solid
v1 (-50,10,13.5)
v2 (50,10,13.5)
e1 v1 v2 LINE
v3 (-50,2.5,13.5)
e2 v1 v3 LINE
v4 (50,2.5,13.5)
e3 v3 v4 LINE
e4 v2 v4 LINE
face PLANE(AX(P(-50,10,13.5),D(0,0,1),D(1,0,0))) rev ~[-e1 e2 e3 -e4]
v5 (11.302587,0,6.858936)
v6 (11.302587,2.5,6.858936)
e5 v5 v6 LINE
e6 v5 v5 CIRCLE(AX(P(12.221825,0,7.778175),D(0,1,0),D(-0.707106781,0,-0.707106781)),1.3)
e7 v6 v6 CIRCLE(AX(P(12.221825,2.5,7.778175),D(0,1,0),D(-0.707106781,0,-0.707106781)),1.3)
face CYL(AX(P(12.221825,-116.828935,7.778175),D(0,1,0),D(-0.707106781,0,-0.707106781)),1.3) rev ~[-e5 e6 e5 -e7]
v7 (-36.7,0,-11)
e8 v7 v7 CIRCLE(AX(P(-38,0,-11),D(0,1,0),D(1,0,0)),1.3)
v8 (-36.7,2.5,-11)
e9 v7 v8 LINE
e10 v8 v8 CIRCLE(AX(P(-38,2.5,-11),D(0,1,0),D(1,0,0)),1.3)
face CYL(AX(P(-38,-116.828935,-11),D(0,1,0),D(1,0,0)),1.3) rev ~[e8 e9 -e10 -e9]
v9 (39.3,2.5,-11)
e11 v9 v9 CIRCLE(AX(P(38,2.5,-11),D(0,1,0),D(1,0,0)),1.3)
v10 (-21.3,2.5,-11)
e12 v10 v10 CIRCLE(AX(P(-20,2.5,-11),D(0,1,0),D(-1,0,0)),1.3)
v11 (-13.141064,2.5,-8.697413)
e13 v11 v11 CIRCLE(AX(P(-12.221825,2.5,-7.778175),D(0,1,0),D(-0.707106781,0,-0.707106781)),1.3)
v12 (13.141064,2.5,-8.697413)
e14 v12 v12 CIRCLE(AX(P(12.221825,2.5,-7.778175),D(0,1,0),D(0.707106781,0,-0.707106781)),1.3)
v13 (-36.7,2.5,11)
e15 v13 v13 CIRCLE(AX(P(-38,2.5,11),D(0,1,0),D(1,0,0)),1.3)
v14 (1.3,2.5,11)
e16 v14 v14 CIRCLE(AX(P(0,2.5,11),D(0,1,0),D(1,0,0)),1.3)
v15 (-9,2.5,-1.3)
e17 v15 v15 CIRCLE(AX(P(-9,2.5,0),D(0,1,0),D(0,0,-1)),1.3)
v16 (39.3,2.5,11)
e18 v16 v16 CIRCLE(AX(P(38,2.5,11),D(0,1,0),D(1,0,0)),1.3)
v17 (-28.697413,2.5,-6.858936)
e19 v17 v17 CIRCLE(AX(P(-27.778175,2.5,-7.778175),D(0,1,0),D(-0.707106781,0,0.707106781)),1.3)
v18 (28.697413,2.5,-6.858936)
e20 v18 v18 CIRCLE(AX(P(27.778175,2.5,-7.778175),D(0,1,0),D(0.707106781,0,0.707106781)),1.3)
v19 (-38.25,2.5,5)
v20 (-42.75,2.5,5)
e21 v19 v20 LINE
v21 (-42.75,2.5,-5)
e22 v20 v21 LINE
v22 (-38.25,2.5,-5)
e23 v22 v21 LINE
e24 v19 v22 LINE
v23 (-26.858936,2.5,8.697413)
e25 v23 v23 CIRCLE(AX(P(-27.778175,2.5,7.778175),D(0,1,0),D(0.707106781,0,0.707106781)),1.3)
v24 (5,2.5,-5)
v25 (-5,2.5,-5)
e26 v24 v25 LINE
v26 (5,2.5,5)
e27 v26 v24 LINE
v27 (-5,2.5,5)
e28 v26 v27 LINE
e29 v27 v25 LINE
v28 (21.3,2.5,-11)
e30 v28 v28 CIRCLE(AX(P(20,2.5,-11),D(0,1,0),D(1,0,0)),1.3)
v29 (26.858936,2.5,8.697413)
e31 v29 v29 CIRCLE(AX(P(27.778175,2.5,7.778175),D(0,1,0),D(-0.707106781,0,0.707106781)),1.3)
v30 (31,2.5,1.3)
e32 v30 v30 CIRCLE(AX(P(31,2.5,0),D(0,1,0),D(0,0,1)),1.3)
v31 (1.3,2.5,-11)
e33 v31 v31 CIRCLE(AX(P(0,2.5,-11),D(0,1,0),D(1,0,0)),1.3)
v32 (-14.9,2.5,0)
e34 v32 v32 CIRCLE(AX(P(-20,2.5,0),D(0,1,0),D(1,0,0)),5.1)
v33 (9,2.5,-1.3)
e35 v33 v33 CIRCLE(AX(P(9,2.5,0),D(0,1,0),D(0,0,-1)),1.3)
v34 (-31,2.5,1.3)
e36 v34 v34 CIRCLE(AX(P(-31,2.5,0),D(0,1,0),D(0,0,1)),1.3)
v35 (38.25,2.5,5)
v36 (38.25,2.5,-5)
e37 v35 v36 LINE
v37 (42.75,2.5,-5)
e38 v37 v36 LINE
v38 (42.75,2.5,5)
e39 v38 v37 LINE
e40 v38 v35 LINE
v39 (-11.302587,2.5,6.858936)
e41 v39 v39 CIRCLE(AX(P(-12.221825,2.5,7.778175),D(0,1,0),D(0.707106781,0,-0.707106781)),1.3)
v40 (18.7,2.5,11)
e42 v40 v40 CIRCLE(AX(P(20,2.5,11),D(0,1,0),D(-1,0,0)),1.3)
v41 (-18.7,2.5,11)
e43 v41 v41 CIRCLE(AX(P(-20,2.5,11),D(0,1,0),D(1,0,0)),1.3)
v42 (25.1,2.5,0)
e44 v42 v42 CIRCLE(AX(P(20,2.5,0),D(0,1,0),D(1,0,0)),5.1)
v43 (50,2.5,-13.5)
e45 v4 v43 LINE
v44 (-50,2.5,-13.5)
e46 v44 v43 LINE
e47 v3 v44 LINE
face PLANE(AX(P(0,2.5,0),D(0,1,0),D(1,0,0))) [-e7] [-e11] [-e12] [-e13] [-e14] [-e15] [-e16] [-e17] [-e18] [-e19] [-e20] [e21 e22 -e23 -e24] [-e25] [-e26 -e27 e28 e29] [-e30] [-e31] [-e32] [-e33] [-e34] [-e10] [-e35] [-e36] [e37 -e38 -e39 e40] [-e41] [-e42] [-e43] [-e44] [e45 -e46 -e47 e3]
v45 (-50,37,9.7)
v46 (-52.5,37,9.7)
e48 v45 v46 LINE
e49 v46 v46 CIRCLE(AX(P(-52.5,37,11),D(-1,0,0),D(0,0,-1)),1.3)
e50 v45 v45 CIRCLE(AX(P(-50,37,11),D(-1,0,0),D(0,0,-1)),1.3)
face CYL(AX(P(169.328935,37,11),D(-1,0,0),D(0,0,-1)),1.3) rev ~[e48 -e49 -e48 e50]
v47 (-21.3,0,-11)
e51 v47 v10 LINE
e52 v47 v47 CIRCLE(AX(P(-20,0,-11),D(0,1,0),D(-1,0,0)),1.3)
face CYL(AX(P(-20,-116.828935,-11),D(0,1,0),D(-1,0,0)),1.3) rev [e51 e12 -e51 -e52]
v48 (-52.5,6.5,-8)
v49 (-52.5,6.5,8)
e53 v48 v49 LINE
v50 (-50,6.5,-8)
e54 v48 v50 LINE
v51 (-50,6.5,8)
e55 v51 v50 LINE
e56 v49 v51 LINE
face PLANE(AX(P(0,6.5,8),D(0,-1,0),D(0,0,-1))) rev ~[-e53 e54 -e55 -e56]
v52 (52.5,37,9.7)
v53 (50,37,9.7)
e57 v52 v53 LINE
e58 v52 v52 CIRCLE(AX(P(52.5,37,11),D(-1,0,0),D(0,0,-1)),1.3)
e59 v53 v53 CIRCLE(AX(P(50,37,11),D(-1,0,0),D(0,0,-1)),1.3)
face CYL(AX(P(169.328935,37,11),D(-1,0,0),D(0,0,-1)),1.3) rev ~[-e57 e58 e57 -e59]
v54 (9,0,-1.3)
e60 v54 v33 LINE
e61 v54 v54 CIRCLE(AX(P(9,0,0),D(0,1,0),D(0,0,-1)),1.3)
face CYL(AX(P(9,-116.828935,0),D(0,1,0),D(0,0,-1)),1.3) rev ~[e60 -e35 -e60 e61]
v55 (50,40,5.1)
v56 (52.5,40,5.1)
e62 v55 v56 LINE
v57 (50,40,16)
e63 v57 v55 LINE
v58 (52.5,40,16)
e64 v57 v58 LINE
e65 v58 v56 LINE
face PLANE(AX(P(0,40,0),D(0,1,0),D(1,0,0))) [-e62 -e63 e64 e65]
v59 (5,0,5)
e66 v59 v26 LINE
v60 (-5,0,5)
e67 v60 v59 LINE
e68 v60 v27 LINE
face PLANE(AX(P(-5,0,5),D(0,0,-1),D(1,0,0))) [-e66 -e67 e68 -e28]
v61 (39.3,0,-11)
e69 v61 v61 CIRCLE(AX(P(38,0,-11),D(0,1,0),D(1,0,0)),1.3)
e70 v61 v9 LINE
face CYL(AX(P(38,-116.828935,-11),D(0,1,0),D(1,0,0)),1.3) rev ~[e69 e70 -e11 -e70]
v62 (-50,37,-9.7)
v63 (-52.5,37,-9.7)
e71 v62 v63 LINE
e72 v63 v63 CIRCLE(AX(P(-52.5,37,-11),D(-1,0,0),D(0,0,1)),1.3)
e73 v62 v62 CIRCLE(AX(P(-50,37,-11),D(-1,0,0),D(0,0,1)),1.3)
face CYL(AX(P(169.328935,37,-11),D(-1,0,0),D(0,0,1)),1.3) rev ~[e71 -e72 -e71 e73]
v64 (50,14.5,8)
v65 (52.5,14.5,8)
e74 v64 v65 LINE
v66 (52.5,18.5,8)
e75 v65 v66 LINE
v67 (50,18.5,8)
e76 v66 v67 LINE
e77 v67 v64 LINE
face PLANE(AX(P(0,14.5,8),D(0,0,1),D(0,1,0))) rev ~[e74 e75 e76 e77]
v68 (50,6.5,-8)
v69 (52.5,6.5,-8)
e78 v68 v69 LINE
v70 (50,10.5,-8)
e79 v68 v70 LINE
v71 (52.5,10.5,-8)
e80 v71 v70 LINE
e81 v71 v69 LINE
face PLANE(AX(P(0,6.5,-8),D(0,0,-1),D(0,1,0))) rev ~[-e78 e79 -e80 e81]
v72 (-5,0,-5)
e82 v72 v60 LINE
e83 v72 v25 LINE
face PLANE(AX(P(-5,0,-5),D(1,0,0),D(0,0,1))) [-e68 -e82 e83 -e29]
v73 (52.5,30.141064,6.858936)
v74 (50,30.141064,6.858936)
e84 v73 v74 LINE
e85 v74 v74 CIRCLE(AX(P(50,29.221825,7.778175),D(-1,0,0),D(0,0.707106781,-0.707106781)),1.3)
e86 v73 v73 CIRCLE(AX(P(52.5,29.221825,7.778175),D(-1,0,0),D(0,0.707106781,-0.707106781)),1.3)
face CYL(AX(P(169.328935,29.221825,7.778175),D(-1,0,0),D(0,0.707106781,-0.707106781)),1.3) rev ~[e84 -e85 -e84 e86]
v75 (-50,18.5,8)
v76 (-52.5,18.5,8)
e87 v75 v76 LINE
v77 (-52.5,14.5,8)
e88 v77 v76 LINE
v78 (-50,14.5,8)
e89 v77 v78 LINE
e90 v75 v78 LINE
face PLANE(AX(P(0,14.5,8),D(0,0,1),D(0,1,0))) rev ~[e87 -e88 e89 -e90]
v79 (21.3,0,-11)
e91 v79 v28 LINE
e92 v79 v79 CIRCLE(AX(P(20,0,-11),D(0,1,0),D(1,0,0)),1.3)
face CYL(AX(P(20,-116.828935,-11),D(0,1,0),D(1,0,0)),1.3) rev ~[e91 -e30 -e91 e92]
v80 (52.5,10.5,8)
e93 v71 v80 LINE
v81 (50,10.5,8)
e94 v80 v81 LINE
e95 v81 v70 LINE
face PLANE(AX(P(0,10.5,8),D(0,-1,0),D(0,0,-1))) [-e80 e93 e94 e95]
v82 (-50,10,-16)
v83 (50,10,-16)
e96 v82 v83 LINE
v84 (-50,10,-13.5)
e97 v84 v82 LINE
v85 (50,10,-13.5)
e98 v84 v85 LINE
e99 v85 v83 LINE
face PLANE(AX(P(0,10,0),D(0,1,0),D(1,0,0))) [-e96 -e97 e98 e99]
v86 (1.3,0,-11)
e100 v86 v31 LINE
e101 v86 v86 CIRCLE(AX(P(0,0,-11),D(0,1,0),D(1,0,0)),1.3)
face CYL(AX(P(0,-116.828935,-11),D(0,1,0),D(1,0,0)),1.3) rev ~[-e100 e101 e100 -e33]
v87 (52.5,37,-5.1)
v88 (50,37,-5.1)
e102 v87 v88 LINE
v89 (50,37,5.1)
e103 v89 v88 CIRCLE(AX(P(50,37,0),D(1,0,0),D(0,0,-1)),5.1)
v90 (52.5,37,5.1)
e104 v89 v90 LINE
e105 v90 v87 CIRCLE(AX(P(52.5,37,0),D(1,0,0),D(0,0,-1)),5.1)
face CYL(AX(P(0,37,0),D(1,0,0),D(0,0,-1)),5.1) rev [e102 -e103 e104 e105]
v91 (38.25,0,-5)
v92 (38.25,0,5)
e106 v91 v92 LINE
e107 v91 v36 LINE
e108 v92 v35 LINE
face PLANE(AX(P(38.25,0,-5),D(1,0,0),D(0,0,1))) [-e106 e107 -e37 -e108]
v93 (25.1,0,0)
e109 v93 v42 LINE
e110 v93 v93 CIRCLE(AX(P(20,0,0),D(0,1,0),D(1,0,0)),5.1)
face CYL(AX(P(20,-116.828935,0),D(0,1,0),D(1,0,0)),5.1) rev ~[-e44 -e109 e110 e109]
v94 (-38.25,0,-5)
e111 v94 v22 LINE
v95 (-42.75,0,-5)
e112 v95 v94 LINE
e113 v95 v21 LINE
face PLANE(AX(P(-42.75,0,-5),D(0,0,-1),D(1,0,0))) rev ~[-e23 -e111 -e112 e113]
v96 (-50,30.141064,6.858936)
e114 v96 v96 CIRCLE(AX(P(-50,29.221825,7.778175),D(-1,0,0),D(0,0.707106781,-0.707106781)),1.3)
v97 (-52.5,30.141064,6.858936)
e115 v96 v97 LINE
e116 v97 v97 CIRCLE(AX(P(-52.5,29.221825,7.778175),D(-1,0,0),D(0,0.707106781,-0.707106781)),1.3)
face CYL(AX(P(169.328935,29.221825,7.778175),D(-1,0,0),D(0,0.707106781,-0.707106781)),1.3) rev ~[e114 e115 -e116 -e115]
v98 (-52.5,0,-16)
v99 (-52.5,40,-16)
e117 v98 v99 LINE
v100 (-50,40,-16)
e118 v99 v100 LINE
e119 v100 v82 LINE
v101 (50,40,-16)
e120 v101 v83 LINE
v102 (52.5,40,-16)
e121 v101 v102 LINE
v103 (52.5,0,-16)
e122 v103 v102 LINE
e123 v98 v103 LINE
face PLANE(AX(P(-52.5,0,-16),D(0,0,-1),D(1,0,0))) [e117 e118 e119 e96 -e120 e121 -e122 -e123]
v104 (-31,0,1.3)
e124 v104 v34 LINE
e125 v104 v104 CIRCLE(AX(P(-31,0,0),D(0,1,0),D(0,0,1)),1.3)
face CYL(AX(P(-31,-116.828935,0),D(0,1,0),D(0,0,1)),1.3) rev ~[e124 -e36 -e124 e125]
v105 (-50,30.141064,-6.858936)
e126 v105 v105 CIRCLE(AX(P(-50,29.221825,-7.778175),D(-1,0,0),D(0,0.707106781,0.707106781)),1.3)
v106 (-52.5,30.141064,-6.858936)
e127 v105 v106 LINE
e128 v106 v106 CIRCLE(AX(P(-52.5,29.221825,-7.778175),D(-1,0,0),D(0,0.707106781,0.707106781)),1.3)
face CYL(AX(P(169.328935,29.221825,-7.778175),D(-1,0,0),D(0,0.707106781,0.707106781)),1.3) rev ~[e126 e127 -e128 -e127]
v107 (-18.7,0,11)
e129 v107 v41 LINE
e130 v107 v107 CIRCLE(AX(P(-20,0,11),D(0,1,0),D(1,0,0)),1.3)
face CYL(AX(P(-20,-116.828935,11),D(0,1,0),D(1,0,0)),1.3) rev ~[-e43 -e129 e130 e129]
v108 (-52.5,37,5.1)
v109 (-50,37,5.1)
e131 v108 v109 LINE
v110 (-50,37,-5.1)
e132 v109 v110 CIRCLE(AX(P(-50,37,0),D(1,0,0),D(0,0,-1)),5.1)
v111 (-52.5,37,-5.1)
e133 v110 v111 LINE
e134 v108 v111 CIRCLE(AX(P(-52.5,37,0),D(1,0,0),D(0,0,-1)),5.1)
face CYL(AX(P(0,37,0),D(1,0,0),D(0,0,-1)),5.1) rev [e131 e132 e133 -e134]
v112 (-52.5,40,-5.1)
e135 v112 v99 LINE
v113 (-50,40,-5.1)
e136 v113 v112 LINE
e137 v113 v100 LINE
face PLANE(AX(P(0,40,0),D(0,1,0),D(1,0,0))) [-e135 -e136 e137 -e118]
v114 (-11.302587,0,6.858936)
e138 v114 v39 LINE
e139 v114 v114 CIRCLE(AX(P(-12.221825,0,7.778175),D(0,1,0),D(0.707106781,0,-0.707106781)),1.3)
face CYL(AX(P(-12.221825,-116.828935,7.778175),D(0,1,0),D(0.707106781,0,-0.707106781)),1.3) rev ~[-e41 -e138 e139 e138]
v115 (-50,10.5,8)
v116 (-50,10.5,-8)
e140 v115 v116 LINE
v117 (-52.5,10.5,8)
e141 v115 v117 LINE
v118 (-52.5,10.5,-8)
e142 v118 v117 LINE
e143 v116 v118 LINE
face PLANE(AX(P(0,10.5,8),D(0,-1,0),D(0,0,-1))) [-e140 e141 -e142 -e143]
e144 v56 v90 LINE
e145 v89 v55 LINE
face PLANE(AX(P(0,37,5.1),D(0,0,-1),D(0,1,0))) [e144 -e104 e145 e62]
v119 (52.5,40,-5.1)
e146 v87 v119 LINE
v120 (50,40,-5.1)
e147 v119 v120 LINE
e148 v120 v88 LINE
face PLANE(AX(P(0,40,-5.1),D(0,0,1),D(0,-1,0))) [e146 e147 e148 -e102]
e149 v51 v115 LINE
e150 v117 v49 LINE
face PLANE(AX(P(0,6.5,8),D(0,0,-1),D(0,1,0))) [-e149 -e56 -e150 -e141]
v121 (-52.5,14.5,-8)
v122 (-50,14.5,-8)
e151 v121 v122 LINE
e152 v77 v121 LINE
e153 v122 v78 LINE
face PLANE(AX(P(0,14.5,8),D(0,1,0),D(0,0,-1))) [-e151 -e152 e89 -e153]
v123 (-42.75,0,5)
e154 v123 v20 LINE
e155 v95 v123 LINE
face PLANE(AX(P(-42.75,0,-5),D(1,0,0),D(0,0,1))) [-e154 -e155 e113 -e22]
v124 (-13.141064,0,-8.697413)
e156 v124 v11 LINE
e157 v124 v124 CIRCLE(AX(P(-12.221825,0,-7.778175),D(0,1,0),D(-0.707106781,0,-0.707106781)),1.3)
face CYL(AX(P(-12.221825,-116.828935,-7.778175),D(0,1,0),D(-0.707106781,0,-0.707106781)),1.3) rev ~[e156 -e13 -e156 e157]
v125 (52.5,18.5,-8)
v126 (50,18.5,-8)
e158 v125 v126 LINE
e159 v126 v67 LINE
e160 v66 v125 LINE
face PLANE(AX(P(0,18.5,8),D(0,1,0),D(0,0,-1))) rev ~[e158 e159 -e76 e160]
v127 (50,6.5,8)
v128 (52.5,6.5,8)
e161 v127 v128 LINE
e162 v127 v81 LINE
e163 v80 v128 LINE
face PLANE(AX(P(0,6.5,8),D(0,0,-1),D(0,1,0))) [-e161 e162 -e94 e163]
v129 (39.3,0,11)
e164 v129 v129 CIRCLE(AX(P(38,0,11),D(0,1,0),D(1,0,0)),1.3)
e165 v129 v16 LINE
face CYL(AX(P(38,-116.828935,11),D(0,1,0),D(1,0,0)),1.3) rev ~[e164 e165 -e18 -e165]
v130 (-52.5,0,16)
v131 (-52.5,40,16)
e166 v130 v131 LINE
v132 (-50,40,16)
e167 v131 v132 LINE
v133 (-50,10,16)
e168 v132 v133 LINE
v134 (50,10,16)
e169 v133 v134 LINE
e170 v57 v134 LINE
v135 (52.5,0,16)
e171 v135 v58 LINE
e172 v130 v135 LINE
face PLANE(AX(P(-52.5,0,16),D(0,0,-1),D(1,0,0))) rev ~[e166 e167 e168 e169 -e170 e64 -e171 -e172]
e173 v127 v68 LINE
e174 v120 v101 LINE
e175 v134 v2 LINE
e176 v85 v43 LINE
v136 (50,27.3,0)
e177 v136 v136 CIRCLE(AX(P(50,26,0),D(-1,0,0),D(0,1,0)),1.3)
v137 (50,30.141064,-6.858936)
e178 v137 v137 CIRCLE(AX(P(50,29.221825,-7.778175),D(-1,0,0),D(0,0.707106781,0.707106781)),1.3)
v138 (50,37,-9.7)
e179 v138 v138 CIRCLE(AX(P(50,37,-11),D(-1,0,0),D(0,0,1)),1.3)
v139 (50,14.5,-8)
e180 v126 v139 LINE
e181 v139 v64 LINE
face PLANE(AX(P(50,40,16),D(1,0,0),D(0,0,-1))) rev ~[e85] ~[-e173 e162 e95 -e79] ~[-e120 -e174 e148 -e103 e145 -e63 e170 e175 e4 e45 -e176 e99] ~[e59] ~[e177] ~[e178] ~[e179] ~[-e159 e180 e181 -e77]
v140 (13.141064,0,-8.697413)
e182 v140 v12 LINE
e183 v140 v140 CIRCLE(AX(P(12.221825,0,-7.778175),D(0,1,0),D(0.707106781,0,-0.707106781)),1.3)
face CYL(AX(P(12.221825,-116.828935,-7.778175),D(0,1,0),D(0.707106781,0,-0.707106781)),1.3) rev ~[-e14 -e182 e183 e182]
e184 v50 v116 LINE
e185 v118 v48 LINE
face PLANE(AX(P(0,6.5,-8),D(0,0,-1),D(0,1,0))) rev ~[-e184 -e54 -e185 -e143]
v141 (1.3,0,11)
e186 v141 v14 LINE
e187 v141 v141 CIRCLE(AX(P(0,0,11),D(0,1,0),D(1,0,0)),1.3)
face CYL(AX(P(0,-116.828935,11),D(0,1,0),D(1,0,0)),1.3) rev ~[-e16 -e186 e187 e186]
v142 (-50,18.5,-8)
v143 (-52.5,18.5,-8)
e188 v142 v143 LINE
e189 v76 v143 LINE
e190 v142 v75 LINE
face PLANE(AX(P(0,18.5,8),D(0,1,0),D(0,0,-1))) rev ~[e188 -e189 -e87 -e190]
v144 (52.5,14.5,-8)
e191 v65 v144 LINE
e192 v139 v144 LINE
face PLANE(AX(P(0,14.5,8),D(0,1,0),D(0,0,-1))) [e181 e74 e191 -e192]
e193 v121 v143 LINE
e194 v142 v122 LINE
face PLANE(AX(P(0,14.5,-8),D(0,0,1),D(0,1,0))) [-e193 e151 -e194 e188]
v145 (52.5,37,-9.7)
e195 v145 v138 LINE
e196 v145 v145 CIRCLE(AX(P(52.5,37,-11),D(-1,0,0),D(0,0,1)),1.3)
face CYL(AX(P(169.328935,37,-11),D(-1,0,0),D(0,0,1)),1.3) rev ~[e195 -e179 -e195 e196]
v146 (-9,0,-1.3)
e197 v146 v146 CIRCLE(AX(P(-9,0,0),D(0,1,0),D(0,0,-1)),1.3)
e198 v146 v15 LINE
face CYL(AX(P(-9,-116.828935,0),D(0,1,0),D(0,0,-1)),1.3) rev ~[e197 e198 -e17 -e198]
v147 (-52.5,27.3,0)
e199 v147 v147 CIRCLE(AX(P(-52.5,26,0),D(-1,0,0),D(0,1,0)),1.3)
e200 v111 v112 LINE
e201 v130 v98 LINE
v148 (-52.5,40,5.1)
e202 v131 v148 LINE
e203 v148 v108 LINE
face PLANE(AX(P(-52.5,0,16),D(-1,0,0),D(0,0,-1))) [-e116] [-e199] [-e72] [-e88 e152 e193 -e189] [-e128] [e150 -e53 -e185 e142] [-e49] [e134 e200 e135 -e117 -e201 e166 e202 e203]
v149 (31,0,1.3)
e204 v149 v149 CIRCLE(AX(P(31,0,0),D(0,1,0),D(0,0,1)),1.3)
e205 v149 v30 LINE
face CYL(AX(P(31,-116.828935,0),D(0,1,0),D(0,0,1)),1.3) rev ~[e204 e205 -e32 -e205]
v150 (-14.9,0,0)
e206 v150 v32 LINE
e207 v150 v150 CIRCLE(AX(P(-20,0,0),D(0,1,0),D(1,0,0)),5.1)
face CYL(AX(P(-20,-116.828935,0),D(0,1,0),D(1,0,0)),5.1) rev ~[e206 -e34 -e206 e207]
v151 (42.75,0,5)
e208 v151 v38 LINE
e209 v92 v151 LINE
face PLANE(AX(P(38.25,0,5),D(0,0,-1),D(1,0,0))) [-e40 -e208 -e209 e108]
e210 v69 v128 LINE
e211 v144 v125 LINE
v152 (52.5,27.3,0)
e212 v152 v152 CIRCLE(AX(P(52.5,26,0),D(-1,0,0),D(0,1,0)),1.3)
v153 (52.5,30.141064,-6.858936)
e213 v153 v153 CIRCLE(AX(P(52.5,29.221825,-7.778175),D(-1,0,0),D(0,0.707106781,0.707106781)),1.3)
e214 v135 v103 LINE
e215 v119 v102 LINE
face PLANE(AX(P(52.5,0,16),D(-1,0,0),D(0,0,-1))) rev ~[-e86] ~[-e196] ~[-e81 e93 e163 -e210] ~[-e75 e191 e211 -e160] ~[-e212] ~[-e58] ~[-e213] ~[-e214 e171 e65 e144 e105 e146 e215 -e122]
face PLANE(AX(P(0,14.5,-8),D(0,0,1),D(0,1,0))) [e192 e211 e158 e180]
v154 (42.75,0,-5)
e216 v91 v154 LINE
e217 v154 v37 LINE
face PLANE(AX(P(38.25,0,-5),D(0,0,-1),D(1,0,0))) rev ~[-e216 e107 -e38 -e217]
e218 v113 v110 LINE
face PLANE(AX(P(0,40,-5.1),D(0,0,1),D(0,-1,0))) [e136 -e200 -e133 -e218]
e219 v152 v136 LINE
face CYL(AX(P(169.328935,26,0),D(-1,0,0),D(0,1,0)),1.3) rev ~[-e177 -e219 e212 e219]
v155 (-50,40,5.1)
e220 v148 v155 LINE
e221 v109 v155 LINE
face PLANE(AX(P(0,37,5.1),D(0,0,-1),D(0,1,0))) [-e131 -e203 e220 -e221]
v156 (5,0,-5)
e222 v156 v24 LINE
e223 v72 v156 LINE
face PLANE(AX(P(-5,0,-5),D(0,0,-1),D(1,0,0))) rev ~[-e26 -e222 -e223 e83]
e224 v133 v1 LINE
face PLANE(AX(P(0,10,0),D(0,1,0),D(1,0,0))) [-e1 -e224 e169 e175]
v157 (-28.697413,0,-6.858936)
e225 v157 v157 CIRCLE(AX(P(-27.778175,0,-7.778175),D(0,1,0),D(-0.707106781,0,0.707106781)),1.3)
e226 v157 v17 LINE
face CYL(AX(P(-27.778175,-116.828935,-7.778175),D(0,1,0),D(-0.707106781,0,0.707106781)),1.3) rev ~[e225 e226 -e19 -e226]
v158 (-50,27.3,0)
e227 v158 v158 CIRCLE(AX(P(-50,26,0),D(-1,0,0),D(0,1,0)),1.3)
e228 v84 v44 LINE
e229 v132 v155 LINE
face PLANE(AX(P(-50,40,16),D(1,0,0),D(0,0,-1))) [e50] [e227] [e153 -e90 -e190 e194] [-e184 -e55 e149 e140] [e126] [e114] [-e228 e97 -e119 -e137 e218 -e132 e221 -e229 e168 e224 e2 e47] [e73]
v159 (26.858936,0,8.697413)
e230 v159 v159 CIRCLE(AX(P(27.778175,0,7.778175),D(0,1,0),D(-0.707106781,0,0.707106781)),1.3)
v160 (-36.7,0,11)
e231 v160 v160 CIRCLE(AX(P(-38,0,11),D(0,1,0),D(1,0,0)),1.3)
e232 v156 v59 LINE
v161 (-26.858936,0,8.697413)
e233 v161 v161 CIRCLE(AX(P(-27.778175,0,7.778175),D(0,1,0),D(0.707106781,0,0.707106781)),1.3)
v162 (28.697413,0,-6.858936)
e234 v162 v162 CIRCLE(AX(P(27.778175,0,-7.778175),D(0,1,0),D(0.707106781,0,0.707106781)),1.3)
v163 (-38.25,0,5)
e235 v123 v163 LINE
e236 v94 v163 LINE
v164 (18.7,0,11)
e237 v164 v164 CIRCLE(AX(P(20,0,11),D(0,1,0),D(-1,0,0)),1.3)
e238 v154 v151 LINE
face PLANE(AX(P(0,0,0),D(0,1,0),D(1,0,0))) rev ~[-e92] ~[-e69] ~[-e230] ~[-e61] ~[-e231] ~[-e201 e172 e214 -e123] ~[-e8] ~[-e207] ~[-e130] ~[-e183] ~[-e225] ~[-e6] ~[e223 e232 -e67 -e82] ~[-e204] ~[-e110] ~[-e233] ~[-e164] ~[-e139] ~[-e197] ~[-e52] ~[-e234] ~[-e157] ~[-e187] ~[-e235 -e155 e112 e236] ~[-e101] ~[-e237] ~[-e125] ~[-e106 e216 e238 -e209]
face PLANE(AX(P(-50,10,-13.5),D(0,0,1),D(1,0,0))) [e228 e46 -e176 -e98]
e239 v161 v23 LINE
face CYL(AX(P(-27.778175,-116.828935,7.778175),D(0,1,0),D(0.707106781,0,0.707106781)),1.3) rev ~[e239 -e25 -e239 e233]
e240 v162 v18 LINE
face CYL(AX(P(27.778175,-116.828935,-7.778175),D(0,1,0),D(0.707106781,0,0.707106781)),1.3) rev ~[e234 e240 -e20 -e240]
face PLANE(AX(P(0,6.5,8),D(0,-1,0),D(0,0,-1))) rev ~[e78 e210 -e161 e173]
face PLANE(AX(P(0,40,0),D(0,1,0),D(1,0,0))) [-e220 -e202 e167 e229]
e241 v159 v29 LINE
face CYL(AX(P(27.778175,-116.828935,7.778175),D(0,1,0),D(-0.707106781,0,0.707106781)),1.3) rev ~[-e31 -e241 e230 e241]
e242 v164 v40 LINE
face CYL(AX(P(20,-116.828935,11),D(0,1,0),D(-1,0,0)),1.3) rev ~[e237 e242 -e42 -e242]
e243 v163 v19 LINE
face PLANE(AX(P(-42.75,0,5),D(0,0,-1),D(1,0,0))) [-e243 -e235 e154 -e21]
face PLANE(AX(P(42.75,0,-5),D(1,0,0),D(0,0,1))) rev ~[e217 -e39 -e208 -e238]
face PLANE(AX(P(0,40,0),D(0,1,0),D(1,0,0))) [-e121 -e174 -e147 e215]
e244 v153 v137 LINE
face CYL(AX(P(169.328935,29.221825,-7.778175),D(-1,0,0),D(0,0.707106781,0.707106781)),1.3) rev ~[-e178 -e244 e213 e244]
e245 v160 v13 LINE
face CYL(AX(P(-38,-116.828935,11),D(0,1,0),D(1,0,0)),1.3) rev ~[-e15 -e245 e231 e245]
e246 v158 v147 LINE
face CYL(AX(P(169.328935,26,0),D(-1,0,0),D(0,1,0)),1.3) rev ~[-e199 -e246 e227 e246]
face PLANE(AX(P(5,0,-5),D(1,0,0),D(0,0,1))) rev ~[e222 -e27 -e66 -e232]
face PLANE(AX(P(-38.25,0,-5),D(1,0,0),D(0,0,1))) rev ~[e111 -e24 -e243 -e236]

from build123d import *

# Parameters (mm, degrees)
SKETCH2_W              = 105
SKETCH2_H              = 32
BOSS_EXTRUDE1_DEPTH    = 40
SKETCH3_W              = 100
SKETCH3_H              = 32
CUT_EXTRUDE1_DEPTH     = 30
SKETCH4_W              = 100
SKETCH4_H              = 27
CUT_EXTRUDE2_DEPTH     = 7.5
F_10_0MM_DOWEL_HOLE1_D = 10.2
F_2_5MM_DOWEL_HOLE1_D  = 2.6
CIRPATTERN1_COUNT      = 8
F_2_5MM_DOWEL_HOLE2_D  = 2.6
LPATTERN1_COUNT        = 3
LPATTERN1_PITCH        = 38
MIRROR1_COPY_1_D       = 2.6
MIRROR1_COPY_2_D       = 2.6
MIRROR1_COPY_3_D       = 2.6
MIRROR1_COPY_4_D       = 2.6
MIRROR1_COPY_5_D       = 2.6
MIRROR1_COPY_6_D       = 2.6
MIRROR1_COPY_7_D       = 2.6
MIRROR1_COPY_8_D       = 2.6
CUT_EXTRUDE3_DEPTH     = 72.75
F_2_5MM_DOWEL_HOLE3_D  = 2.6
CIRPATTERN3_COUNT      = 5
CIRPATTERN3_ANGLE      = 180
SKETCH18_W             = 16
SKETCH18_H             = 4
CUT_EXTRUDE4_DEPTH     = 72.75
SKETCH19_W             = 10
SKETCH19_H             = 10
SKETCH19_W_2           = 4.5
CUT_EXTRUDE5_DEPTH     = 145.5


with BuildPart() as part:
    # Sketch2 → Boss-Extrude1 (new body)
    with BuildSketch(Plane(origin=(0, 0, 0), x_dir=(1, 0, 0), z_dir=(0, 1, 0))):
        Rectangle(SKETCH2_W, SKETCH2_H)
    extrude(amount=BOSS_EXTRUDE1_DEPTH)

    # Sketch3 → Cut-Extrude1 (cut)
    with BuildSketch(Plane(origin=(0, 40, 0), x_dir=(1, 0, 0), z_dir=(0, 1, 0))):
        Rectangle(SKETCH3_W, SKETCH3_H)
    extrude(amount=-CUT_EXTRUDE1_DEPTH, mode=Mode.SUBTRACT)

    # Sketch4 → Cut-Extrude2 (cut)
    with BuildSketch(Plane(origin=(0, 10, 0), x_dir=(1, 0, 0), z_dir=(0, 1, 0))):
        Rectangle(SKETCH4_W, SKETCH4_H)
    extrude(amount=-CUT_EXTRUDE2_DEPTH, mode=Mode.SUBTRACT)

    # Ø10.0mm Dowel Hole1 (through all)
    with Locations(Plane(origin=(0, 0, 0), x_dir=(-1, 0, 0), z_dir=(0, -1, 0))):
        with Locations((-20, 0), (20, 0)):
            Hole(F_10_0MM_DOWEL_HOLE1_D / 2)

    # Ø2.5mm Dowel Hole1 (through all)
    with Locations(Plane(origin=(0, 0, 0), x_dir=(-1, 0, 0), z_dir=(0, -1, 0))):
        with Locations((-20, 11)):
            f_2_5mm_dowel_hole1 = Hole(F_2_5MM_DOWEL_HOLE1_D / 2)

    # CirPattern1: Ø2.5mm Dowel Hole1 ×8 about axis
    cirpattern1_axis = Axis((20, 0, 0), (0, -1, 0))
    for i in range(1, CIRPATTERN1_COUNT):
        add(f_2_5mm_dowel_hole1.rotate(cirpattern1_axis, i * 360 / CIRPATTERN1_COUNT), mode=Mode.SUBTRACT)

    # Ø2.5mm Dowel Hole2 (through all)
    with Locations(Plane(origin=(0, 0, 0), x_dir=(-1, 0, 0), z_dir=(0, -1, 0))):
        with Locations((-38, 11), (-38, -11)):
            f_2_5mm_dowel_hole2 = Hole(F_2_5MM_DOWEL_HOLE2_D / 2)

    # LPattern1: Ø2.5mm Dowel Hole2 ×3
    with Locations(*[(-i * LPATTERN1_PITCH, 0, 0) for i in range(1, LPATTERN1_COUNT)]):
        add(f_2_5mm_dowel_hole2, mode=Mode.SUBTRACT)

    # Mirror1 copy 1 (through all)
    with Locations(Plane(origin=(-5.857864376, 0, -14.142135624), x_dir=(0.7071067811865476, 0, -0.7071067811865475), z_dir=(0, -1, 0))):
        with Locations((-20, -11)):
            Hole(MIRROR1_COPY_1_D / 2)

    # Mirror1 copy 2 (through all)
    with Locations(Plane(origin=(-20, 0, -20), x_dir=(0, 0, -1), z_dir=(0, -1, 0))):
        with Locations((-20, -11)):
            Hole(MIRROR1_COPY_2_D / 2)

    # Mirror1 copy 3 (through all)
    with Locations(Plane(origin=(-34.142135624, 0, -14.142135624), x_dir=(-0.7071067811865475, 0, -0.7071067811865476), z_dir=(0, -1, 0))):
        with Locations((-20, -11)):
            Hole(MIRROR1_COPY_3_D / 2)

    # Mirror1 copy 4 (through all)
    with Locations(Plane(origin=(-40, 0, 0), x_dir=(-1, 0, 0), z_dir=(0, -1, 0))):
        with Locations((-20, -11)):
            Hole(MIRROR1_COPY_4_D / 2)

    # Mirror1 copy 5 (through all)
    with Locations(Plane(origin=(-34.142135624, 0, 14.142135624), x_dir=(-0.7071067811865477, 0, 0.7071067811865475), z_dir=(0, -1, 0))):
        with Locations((-20, -11)):
            Hole(MIRROR1_COPY_5_D / 2)

    # Mirror1 copy 6 (through all)
    with Locations(Plane(origin=(-20, 0, 20), x_dir=(0, 0, 1), z_dir=(0, -1, 0))):
        with Locations((-20, -11)):
            Hole(MIRROR1_COPY_6_D / 2)

    # Mirror1 copy 7 (through all)
    with Locations(Plane(origin=(-5.857864376, 0, 14.142135624), x_dir=(0.7071067811865474, 0, 0.7071067811865477), z_dir=(0, -1, 0))):
        with Locations((-20, -11)):
            Hole(MIRROR1_COPY_7_D / 2)

    # Mirror1 copy 8 (through all)
    with Locations(Plane.XZ):
        with Locations((-20, -11)):
            Hole(MIRROR1_COPY_8_D / 2)

    # Sketch14 → Cut-Extrude3 (cut, symmetric)
    with BuildSketch(Plane(origin=(0, 0, 0), x_dir=(0, 0, -1), z_dir=(1, 0, 0))):
        with BuildLine():
            Line((-5.1, 40), (5.1, 40))
            Line((5.1, 40), (5.1, 37))
            ThreePointArc((5.1, 37), (0, 31.9), (-5.1, 37))
            Line((-5.1, 37), (-5.1, 40))
        make_face()
    extrude(amount=CUT_EXTRUDE3_DEPTH, both=True, mode=Mode.SUBTRACT)

    # Ø2.5mm Dowel Hole3 (through all)
    with Locations(Plane(origin=(52.5, 0, 0), x_dir=(0, 0, -1), z_dir=(1, 0, 0))):
        with Locations((11, 37)):
            f_2_5mm_dowel_hole3 = Hole(F_2_5MM_DOWEL_HOLE3_D / 2)

    # CirPattern3: Ø2.5mm Dowel Hole3 ×5 about axis
    cirpattern3_axis = Axis((-72.75, 37, 0), (-1, 0, 0))
    for i in range(1, CIRPATTERN3_COUNT):
        add(f_2_5mm_dowel_hole3.rotate(cirpattern3_axis, i * CIRPATTERN3_ANGLE / (CIRPATTERN3_COUNT - 1)), mode=Mode.SUBTRACT)

    # Sketch18 → Cut-Extrude4 (cut, symmetric)
    with BuildSketch(Plane(origin=(0, 0, 0), x_dir=(0, 0, -1), z_dir=(1, 0, 0))):
        with Locations((0, 16.5)):
            Rectangle(SKETCH18_W, SKETCH18_H)
        with Locations((0, 8.5)):
            Rectangle(SKETCH18_W, SKETCH18_H)
    extrude(amount=CUT_EXTRUDE4_DEPTH, both=True, mode=Mode.SUBTRACT)

    # Sketch19 → Cut-Extrude5 (cut)
    with BuildSketch(Plane.XZ):
        Rectangle(SKETCH19_W, SKETCH19_H)
        with Locations((40.5, 0)):
            Rectangle(SKETCH19_W_2, SKETCH19_H)
        with Locations((-40.5, 0)):
            Rectangle(SKETCH19_W_2, SKETCH19_H)
    extrude(amount=-CUT_EXTRUDE5_DEPTH, mode=Mode.SUBTRACT)


solid = part.part
